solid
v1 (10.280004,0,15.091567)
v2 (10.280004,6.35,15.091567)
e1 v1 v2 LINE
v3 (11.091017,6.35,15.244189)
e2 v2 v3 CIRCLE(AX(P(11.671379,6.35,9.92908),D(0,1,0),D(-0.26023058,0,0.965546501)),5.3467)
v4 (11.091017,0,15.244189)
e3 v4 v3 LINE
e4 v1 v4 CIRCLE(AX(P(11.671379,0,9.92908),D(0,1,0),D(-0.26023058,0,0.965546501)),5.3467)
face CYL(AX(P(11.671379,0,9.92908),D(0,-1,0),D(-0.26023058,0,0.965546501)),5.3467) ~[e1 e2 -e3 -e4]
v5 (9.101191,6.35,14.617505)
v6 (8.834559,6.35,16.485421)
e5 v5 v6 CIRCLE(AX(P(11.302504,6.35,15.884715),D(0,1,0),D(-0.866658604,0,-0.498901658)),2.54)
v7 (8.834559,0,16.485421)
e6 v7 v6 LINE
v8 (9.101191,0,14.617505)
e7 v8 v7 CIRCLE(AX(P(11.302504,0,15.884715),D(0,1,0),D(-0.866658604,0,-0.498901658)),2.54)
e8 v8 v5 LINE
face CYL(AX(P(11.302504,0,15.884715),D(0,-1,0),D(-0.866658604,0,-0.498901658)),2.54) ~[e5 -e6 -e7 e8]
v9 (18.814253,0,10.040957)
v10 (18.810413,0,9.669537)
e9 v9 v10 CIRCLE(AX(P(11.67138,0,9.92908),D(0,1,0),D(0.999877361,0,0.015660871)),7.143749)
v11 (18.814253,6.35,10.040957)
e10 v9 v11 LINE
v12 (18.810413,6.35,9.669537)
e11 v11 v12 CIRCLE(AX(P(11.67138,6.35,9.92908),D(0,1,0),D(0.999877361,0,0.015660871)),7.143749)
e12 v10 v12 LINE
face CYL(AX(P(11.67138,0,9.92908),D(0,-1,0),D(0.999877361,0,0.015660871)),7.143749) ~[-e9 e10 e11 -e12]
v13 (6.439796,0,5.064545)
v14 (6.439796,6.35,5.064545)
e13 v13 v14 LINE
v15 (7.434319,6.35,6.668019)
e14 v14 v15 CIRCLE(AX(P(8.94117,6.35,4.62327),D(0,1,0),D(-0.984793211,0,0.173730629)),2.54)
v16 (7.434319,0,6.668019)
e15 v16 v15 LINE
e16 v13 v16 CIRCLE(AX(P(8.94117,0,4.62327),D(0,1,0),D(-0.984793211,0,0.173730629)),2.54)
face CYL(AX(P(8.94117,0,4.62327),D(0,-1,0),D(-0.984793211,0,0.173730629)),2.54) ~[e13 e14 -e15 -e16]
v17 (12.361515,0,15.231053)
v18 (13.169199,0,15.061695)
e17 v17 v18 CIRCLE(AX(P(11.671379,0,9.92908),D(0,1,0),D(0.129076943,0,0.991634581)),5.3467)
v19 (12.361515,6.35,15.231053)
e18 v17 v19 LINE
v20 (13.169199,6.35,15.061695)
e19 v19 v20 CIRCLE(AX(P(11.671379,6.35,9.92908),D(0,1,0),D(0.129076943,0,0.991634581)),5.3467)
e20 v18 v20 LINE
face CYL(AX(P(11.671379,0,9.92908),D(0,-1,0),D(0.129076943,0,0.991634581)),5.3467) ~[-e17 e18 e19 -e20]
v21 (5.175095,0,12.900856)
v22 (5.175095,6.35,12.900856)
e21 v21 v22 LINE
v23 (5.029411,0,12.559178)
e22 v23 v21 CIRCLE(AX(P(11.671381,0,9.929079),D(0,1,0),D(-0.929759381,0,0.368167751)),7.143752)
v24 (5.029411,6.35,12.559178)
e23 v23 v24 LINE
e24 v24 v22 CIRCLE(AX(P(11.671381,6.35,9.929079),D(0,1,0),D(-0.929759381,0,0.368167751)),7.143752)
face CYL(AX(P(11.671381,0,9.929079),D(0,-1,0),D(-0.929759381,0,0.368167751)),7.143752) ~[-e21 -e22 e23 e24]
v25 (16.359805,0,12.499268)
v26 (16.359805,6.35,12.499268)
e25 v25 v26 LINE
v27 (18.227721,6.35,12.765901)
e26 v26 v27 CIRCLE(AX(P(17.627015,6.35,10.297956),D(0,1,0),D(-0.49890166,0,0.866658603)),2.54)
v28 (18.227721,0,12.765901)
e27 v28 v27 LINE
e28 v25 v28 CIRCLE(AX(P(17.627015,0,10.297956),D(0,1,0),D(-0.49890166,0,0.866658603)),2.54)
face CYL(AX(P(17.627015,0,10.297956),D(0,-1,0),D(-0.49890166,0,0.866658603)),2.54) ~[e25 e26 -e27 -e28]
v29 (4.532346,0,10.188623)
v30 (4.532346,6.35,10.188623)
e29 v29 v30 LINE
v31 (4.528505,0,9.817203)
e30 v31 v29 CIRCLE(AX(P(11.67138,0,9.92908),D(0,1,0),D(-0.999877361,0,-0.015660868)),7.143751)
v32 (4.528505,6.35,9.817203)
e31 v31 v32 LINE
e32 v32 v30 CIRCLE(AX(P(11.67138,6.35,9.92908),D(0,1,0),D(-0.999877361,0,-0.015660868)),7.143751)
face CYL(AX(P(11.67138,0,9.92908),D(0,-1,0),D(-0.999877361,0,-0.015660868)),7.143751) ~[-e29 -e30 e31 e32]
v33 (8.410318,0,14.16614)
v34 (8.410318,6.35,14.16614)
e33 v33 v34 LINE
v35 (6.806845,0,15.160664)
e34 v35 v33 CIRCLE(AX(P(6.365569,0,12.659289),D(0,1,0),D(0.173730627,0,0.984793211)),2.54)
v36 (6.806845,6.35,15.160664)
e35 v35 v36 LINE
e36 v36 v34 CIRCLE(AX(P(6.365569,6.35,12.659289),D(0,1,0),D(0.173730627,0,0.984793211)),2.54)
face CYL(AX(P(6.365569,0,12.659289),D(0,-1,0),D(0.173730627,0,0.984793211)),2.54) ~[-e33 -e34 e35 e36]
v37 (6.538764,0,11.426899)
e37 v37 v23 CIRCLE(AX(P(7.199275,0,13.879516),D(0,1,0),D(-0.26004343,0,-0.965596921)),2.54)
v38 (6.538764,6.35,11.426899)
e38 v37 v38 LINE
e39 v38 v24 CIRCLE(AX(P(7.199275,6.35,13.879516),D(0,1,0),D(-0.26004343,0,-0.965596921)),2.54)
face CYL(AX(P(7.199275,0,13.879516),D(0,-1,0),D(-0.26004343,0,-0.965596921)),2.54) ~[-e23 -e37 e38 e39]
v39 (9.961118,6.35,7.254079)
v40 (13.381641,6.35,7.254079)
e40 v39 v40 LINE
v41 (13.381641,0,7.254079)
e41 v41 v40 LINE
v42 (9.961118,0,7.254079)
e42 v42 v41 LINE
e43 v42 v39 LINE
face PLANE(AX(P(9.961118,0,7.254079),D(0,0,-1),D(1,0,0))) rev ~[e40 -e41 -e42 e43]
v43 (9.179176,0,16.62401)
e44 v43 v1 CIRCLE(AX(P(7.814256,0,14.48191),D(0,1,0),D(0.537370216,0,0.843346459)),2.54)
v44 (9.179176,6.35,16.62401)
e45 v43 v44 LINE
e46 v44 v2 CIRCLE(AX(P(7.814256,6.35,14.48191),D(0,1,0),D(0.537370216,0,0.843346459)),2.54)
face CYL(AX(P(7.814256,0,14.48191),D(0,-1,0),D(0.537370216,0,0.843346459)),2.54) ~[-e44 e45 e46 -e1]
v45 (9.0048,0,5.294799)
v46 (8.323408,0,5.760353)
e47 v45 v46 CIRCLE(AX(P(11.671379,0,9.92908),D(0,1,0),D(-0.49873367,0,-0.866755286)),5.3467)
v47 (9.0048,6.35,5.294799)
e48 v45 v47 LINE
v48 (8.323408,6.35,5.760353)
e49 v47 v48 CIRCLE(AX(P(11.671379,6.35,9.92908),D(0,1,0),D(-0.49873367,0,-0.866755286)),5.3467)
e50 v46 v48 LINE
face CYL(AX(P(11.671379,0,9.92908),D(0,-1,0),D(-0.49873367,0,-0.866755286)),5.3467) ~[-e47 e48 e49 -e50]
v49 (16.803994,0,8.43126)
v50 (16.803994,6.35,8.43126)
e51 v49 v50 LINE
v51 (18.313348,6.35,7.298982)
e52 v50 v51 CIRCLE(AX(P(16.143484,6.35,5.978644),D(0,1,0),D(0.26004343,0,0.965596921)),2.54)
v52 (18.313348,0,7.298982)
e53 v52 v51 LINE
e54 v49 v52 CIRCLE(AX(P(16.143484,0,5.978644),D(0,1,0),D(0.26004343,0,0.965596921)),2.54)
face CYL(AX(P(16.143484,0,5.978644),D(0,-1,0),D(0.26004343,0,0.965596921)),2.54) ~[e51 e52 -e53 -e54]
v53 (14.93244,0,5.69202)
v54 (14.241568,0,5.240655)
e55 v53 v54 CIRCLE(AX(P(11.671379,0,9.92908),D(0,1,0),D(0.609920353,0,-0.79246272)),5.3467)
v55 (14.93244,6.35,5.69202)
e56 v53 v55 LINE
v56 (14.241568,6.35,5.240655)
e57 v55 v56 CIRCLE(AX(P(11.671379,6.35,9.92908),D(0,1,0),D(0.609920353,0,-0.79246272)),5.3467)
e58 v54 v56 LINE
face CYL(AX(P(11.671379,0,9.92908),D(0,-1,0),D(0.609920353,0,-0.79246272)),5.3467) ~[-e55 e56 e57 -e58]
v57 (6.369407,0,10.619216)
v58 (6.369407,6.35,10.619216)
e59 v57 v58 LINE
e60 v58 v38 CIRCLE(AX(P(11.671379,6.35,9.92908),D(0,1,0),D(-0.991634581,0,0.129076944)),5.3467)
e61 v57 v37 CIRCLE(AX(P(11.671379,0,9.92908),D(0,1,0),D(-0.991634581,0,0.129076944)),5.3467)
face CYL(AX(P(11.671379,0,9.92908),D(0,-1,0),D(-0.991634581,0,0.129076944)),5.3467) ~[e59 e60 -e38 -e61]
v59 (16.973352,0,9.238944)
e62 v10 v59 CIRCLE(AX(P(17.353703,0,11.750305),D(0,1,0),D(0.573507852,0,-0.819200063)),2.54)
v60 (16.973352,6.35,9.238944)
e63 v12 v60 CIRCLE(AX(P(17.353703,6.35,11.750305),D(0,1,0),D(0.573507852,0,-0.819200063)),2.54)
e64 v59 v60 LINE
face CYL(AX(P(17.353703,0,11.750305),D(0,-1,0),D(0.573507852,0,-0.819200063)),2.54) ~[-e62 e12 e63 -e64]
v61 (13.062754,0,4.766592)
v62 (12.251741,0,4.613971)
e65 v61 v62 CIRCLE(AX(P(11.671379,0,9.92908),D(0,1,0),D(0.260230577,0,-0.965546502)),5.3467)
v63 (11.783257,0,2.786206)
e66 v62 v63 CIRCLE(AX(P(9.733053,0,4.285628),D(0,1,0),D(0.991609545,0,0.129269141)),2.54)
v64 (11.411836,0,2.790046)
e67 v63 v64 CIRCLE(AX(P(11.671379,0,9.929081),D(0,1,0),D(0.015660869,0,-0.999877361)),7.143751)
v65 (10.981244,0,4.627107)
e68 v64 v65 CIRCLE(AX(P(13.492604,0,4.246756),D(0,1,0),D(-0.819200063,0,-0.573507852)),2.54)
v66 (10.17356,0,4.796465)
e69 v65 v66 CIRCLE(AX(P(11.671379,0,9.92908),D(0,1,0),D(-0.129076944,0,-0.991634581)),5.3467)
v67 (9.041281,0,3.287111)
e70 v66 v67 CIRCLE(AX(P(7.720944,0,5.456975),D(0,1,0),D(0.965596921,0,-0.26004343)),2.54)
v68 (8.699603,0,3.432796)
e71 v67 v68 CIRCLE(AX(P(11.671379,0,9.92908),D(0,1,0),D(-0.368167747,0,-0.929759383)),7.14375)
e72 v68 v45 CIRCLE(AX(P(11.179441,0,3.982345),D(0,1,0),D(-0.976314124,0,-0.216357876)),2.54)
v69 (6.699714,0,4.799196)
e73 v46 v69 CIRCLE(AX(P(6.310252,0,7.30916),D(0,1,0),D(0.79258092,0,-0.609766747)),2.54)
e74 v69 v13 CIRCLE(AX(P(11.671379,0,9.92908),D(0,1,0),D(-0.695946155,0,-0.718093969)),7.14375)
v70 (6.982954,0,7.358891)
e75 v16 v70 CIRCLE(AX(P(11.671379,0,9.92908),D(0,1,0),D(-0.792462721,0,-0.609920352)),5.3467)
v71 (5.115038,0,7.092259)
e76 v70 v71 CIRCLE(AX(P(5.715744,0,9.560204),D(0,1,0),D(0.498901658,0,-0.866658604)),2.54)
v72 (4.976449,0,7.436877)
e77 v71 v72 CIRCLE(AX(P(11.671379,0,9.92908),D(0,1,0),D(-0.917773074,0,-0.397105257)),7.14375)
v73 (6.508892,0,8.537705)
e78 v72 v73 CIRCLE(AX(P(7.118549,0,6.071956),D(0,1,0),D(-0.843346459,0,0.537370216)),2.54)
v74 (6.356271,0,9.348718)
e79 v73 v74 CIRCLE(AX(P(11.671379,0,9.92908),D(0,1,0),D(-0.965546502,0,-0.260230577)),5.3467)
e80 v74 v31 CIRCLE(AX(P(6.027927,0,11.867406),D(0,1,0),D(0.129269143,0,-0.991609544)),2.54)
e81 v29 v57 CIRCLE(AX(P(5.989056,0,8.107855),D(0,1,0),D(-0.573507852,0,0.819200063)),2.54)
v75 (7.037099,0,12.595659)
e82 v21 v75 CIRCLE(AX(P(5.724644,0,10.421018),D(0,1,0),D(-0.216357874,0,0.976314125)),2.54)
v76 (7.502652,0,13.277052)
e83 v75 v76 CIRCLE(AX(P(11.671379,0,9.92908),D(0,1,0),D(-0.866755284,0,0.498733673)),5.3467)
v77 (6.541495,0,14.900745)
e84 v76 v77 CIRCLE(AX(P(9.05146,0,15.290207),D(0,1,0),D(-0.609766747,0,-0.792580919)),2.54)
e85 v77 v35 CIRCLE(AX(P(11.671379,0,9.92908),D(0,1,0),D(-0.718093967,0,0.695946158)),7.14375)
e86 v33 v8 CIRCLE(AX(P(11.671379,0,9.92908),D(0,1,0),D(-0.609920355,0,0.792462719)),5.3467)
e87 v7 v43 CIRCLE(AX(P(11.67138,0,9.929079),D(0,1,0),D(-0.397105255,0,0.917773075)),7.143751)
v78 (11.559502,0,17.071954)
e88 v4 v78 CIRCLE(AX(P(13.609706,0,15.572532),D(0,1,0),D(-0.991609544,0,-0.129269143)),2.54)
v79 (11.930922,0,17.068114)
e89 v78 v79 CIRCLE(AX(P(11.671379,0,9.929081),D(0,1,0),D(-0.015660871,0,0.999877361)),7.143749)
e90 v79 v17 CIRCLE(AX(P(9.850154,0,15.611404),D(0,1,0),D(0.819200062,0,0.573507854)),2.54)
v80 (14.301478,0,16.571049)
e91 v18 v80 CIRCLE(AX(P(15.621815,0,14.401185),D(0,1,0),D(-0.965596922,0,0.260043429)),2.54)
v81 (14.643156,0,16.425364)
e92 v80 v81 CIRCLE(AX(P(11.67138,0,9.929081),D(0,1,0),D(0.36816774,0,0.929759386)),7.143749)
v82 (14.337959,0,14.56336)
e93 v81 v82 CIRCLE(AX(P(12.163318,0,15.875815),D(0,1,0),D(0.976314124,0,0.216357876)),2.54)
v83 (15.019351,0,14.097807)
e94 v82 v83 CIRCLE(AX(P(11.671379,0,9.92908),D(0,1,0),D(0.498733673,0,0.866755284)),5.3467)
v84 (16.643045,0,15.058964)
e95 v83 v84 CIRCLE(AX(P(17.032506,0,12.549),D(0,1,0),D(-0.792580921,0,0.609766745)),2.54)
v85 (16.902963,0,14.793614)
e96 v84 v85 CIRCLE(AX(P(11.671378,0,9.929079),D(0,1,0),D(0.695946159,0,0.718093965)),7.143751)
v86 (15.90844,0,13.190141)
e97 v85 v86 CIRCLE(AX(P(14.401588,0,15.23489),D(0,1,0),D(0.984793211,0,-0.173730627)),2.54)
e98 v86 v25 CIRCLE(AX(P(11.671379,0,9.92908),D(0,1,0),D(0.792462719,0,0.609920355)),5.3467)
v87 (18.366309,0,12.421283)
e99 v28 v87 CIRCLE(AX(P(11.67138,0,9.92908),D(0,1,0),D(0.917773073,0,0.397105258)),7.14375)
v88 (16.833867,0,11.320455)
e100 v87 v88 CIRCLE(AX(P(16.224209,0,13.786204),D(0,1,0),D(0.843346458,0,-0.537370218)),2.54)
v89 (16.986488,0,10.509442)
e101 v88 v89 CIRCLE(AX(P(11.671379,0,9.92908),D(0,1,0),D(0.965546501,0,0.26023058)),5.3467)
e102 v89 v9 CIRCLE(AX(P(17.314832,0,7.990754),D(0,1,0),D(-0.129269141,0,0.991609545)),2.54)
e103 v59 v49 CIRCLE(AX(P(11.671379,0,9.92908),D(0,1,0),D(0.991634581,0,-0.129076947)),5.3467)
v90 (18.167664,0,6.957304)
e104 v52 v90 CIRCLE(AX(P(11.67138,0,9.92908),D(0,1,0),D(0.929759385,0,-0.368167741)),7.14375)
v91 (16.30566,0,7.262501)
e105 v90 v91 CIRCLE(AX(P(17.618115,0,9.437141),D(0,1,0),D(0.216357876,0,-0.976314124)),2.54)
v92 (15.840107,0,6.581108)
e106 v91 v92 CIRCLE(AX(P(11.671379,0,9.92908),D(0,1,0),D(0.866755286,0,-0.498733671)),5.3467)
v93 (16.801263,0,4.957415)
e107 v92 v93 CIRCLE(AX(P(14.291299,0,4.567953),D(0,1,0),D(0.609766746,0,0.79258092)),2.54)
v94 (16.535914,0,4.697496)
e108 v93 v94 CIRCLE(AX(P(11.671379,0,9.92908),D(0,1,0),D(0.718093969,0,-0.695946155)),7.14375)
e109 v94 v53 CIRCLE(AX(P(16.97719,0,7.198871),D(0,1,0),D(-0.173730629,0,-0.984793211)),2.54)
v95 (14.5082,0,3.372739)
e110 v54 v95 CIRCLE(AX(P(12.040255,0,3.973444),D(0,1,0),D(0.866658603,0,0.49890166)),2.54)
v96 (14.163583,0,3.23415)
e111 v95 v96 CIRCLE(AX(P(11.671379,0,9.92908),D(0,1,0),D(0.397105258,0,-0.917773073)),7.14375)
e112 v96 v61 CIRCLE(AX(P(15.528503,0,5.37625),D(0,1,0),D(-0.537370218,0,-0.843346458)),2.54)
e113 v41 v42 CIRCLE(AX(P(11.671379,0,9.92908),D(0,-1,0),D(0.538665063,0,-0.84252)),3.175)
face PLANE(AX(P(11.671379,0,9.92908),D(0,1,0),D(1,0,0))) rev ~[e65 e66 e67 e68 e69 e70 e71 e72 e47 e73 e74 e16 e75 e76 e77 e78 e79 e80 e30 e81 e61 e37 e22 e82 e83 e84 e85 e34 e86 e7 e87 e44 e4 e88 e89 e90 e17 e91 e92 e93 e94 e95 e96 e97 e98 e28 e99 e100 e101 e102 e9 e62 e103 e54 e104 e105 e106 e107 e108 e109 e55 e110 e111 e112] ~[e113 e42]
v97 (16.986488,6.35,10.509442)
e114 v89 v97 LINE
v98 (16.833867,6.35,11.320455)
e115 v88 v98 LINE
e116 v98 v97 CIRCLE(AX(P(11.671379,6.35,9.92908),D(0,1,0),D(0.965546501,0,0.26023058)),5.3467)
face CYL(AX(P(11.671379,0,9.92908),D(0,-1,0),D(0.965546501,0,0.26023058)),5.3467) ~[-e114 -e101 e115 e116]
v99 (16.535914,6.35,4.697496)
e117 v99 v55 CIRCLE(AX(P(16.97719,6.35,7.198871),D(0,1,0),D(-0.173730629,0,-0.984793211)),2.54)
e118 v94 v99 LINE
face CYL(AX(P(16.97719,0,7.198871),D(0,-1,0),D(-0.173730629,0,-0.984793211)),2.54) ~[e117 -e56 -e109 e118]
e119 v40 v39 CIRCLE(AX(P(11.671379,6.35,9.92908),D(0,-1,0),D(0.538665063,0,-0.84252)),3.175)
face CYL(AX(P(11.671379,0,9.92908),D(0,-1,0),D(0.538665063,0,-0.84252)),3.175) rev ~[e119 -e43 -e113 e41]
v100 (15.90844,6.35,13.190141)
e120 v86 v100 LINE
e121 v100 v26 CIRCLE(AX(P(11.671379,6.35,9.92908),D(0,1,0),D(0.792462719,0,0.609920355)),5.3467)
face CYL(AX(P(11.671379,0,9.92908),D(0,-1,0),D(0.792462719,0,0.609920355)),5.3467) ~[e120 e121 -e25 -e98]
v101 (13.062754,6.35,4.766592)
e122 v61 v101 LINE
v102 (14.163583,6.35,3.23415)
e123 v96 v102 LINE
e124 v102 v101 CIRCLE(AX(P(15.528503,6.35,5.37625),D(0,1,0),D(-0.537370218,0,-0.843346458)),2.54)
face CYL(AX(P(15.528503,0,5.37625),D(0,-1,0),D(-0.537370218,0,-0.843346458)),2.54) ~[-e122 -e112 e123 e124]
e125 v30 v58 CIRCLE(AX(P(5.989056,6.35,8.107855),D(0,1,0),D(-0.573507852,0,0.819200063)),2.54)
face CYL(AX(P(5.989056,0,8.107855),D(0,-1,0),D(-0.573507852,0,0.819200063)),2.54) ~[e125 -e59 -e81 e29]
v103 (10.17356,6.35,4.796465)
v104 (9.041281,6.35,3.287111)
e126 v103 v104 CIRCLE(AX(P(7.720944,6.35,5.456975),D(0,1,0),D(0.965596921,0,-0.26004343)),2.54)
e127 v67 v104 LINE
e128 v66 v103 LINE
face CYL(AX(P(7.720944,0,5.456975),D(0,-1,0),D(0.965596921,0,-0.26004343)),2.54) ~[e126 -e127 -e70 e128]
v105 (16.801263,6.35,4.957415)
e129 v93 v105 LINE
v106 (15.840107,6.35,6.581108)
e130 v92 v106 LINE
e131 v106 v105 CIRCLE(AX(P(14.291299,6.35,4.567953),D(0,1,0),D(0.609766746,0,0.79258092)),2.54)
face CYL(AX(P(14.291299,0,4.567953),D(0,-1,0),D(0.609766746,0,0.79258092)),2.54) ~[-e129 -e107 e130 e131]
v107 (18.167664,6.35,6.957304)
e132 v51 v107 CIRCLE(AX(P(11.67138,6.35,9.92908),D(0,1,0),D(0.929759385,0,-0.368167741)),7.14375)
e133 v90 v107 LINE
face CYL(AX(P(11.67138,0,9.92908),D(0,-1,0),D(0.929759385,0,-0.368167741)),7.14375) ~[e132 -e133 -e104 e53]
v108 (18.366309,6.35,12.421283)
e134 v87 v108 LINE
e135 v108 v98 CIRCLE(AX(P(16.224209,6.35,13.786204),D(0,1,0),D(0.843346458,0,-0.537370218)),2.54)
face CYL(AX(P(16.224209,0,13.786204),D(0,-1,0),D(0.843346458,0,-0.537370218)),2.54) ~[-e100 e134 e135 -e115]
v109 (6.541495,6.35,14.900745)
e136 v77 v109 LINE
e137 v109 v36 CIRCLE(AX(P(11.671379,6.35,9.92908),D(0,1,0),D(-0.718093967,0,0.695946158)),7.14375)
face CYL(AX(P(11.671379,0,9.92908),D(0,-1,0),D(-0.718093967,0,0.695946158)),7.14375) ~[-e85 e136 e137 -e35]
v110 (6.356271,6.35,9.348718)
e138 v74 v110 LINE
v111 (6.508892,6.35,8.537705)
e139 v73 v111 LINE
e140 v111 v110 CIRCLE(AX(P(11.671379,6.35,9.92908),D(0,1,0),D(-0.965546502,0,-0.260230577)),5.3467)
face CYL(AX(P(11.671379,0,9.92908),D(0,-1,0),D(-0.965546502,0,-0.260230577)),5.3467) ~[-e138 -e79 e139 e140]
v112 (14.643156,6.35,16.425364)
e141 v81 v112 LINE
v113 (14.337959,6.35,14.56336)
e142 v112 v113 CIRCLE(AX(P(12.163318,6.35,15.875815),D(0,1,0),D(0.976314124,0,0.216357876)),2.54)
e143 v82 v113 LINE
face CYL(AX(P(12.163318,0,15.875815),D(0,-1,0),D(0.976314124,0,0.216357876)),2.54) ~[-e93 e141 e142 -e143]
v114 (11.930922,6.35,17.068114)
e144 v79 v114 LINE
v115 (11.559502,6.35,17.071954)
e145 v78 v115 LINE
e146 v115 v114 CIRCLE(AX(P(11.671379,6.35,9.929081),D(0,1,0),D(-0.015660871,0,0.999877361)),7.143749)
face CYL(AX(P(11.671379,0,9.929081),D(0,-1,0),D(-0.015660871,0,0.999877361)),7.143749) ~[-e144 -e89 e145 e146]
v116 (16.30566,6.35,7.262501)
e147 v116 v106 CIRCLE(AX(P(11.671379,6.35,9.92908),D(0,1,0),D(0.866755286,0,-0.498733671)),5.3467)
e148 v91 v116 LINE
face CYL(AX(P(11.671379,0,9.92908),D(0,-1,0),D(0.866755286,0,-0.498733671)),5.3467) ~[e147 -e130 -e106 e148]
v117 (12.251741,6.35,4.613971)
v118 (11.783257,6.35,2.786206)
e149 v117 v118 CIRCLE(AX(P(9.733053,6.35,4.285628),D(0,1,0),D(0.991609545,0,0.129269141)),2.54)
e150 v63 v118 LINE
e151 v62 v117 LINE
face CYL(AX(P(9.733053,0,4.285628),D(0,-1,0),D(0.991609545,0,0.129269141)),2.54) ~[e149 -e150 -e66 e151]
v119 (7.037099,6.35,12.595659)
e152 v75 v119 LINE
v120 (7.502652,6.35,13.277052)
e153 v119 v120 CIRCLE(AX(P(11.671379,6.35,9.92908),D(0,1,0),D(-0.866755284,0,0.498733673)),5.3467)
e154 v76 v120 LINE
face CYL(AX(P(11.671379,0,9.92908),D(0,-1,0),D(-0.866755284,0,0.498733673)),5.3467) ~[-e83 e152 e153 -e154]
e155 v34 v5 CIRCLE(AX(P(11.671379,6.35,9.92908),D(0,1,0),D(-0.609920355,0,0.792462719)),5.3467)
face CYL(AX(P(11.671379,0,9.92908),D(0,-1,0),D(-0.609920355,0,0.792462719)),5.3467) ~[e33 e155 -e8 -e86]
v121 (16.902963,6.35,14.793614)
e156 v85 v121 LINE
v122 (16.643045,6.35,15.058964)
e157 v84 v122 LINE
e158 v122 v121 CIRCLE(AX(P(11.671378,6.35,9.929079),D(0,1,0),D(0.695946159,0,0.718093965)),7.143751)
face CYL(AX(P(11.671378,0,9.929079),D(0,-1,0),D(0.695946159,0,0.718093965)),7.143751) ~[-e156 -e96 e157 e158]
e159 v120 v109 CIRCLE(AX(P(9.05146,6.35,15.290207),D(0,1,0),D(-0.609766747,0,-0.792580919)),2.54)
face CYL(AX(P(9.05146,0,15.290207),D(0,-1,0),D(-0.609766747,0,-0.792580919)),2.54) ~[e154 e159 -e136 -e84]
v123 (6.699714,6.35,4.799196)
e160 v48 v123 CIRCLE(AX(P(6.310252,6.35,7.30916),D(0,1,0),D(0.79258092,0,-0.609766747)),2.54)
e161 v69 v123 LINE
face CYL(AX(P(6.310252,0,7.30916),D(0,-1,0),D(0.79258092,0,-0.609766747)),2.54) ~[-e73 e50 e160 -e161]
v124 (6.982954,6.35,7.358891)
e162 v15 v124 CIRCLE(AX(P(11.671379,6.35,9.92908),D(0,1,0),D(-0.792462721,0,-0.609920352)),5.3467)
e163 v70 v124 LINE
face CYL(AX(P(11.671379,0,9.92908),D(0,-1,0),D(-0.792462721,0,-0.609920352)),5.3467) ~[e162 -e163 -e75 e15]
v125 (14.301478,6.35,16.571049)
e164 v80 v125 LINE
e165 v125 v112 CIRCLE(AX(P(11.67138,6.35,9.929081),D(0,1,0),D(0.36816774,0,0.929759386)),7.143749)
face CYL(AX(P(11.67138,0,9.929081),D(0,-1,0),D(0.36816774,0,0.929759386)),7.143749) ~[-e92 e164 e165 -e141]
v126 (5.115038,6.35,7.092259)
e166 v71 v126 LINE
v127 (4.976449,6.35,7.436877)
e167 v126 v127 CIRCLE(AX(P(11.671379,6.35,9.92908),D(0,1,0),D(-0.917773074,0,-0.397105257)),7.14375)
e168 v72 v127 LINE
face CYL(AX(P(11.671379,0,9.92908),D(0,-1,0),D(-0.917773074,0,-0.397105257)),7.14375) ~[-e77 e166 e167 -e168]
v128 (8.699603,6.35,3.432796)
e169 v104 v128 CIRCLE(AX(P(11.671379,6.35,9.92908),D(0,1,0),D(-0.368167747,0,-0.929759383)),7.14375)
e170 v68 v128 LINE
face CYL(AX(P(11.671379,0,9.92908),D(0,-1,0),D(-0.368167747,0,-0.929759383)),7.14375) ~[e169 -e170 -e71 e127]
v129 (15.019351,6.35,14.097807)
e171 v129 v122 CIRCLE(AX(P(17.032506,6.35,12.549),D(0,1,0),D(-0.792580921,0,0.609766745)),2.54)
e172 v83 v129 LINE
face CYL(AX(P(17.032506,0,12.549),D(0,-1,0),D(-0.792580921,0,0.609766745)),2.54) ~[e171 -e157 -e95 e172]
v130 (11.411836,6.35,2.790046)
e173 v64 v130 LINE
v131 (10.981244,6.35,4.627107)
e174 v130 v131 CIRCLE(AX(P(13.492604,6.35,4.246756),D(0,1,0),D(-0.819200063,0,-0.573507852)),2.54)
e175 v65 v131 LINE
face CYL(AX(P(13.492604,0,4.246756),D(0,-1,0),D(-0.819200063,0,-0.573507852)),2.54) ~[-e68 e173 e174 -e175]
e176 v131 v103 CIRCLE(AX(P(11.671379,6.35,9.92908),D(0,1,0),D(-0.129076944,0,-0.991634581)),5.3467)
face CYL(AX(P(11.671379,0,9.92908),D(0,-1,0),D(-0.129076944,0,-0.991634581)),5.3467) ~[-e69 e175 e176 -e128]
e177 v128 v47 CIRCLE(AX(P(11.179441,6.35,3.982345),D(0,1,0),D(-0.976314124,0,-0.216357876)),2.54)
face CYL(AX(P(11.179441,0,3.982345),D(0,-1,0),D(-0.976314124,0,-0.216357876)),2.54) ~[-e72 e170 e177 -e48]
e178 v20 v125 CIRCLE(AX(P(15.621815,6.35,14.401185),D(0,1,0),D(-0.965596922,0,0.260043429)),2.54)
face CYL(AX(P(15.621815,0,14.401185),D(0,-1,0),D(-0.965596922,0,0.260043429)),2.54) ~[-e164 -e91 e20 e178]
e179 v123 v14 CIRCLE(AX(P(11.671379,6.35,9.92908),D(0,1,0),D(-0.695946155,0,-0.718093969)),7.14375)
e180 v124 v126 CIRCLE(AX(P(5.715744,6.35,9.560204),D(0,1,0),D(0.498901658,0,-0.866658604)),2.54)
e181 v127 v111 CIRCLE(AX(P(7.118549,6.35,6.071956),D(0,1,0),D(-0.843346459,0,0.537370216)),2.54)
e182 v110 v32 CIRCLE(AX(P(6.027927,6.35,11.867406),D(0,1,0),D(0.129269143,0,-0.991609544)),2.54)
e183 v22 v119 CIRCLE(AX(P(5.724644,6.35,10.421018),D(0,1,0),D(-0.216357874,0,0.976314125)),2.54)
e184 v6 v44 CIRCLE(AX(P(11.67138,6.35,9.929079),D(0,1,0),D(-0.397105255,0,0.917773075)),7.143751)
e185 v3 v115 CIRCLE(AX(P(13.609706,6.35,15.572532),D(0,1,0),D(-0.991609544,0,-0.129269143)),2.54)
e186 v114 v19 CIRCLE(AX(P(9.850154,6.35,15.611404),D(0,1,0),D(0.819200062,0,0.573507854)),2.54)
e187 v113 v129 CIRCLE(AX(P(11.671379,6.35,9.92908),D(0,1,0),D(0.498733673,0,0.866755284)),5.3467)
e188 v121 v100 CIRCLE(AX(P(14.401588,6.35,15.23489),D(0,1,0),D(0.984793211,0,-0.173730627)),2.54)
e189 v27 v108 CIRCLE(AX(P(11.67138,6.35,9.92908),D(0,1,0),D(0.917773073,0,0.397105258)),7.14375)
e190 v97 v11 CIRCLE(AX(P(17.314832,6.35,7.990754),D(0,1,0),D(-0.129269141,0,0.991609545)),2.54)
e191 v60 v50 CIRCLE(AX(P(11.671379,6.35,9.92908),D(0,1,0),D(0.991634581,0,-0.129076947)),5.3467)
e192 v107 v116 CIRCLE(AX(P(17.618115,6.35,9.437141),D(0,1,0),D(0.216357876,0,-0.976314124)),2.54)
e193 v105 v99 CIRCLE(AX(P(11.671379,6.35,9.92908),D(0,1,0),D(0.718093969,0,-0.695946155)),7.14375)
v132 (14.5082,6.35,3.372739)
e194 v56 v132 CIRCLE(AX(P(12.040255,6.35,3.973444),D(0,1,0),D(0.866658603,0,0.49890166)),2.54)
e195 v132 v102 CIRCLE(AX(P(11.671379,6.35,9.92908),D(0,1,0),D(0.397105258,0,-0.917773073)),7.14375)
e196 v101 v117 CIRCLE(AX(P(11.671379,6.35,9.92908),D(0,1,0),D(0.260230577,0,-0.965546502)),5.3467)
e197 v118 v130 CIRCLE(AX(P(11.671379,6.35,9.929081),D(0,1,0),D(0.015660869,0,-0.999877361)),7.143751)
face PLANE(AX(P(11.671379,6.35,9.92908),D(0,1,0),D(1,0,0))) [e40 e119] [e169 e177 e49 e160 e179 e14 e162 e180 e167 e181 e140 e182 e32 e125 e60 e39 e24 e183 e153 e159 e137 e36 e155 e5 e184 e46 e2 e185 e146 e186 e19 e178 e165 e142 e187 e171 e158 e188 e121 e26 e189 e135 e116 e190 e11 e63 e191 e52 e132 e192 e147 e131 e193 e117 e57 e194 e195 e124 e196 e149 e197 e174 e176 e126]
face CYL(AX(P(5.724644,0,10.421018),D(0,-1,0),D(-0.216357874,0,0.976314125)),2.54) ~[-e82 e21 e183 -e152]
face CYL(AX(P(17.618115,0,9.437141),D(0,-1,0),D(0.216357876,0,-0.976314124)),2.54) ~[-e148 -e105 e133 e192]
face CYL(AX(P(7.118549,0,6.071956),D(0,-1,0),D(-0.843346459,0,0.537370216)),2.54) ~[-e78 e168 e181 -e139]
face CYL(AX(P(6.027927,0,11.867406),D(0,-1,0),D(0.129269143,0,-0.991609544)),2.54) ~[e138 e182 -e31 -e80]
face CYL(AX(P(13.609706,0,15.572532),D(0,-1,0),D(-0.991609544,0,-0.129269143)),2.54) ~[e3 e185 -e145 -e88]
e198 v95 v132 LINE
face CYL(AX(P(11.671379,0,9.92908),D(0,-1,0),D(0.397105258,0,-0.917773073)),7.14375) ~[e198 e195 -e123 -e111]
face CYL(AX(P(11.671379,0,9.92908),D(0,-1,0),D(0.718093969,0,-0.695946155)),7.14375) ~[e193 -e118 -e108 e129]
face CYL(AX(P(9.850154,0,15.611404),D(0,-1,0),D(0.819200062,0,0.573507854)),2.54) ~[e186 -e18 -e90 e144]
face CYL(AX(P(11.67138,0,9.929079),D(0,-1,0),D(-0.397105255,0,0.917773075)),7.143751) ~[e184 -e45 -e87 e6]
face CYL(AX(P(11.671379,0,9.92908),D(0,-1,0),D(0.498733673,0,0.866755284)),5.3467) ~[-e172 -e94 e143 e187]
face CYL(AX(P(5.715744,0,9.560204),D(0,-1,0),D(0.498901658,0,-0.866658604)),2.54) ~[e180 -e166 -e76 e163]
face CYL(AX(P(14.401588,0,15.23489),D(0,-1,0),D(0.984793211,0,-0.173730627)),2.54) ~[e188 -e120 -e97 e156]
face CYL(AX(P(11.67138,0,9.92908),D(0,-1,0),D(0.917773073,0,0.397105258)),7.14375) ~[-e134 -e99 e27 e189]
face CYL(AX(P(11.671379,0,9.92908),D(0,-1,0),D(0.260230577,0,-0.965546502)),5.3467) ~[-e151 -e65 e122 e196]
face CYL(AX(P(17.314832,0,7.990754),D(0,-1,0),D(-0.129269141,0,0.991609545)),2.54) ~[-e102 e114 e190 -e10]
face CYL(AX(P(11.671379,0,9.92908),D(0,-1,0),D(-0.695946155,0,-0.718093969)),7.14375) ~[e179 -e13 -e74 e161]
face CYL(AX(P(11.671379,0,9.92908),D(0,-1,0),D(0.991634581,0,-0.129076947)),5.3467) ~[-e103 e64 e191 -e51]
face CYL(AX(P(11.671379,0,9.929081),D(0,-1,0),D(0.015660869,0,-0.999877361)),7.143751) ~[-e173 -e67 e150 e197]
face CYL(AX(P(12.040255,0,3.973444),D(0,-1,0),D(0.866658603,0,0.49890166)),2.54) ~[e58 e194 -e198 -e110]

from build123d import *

# Parameters (mm, degrees)
BOSS_EXTRUDE1_DEPTH = 6.35


with BuildPart() as part:
    # Sketch1 → Boss-Extrude1 (new body)
    with BuildSketch(Plane(origin=(0, 0, 0), x_dir=(1, 0, 0), z_dir=(0, 1, 0))):
        with BuildLine():
            ThreePointArc((9.101190716, -14.617505223), (8.787991723, -15.525786229), (8.834558587, -16.485421328))
            ThreePointArc((8.834558587, -16.485421328), (9.005966344, -16.556955762), (9.179175886, -16.624009833))
            ThreePointArc((9.179175886, -16.624009833), (9.877166505, -15.963799948), (10.280004433, -15.09156741))
            ThreePointArc((10.280004433, -15.09156741), (10.682561911, -15.183548614), (11.091017353, -15.244188674))
            ThreePointArc((11.091017353, -15.244188674), (11.149243306, -16.203186971), (11.559501933, -17.07195383))
            ThreePointArc((11.559501933, -17.07195383), (11.745237093, -17.072448121), (11.930922326, -17.068113582))
            ThreePointArc((11.930922326, -17.068113582), (12.323130188, -16.191049737), (12.361514963, -15.231052547))
            ThreePointArc((12.361514963, -15.231052547), (12.768629261, -15.161980021), (13.16919883, -15.061695001))
            ThreePointArc((13.16919883, -15.061695001), (13.589985356, -15.925411791), (14.301477588, -16.571048531))
            ThreePointArc((14.301477588, -16.571048531), (14.473263658, -16.500427428), (14.643155688, -16.425364174))
            ThreePointArc((14.643155688, -16.425364174), (14.669870701, -15.464971388), (14.33795859, -14.563360415))
            ThreePointArc((14.33795859, -14.563360415), (14.687650245, -14.343749825), (15.019350856, -14.09780721))
            ThreePointArc((15.019350856, -14.09780721), (15.738637021, -14.734749443), (16.643044616, -15.058963723))
            ThreePointArc((16.643044616, -15.058963723), (16.774728723, -14.927978648), (16.902963029, -14.793614379))
            ThreePointArc((16.902963029, -14.793614379), (16.560118075, -13.896103748), (15.908439687, -13.19014109))
            ThreePointArc((15.908439687, -13.19014109), (16.147471316, -12.853426158), (16.359804557, -12.499268481))
            ThreePointArc((16.359804557, -12.499268481), (17.268085563, -12.812467475), (18.227720662, -12.76590061))
            ThreePointArc((18.227720662, -12.76590061), (18.299255096, -12.594492854), (18.366309167, -12.421283311))
            ThreePointArc((18.366309167, -12.421283311), (17.706099281, -11.723292693), (16.833866744, -11.320454765))
            ThreePointArc((16.833866744, -11.320454765), (16.925847948, -10.917897287), (16.986488008, -10.509441845))
            ThreePointArc((16.986488008, -10.509441845), (17.945486305, -10.451215891), (18.814253164, -10.040957265))
            ThreePointArc((18.814253164, -10.040957265), (18.814747455, -9.855222104), (18.810412916, -9.669536871))
            ThreePointArc((18.810412916, -9.669536871), (17.93334907, -9.27732901), (16.973351881, -9.238944234))
            ThreePointArc((16.973351881, -9.238944234), (16.904279354, -8.831829937), (16.803994334, -8.431260368))
            ThreePointArc((16.803994334, -8.431260368), (17.667711125, -8.010473841), (18.313347865, -7.29898161))
            ThreePointArc((18.313347865, -7.29898161), (18.242726762, -7.12719554), (18.167663508, -6.957303509))
            ThreePointArc((18.167663508, -6.957303509), (17.207270722, -6.930588496), (16.305659749, -7.262500608))
            ThreePointArc((16.305659749, -7.262500608), (16.086049159, -6.912808952), (15.840106544, -6.581108342))
            ThreePointArc((15.840106544, -6.581108342), (16.477048777, -5.861822176), (16.801263057, -4.957414582))
            ThreePointArc((16.801263057, -4.957414582), (16.670277982, -4.825730474), (16.535913713, -4.697496168))
            ThreePointArc((16.535913713, -4.697496168), (15.638403082, -5.040341123), (14.932440424, -5.69201951))
            ThreePointArc((14.932440424, -5.69201951), (14.595725492, -5.452987882), (14.241567815, -5.240654641))
            ThreePointArc((14.241567815, -5.240654641), (14.554766809, -4.332373635), (14.508199944, -3.372738536))
            ThreePointArc((14.508199944, -3.372738536), (14.336792188, -3.301204102), (14.163582645, -3.234150031))
            ThreePointArc((14.163582645, -3.234150031), (13.465592027, -3.894359916), (13.062754098, -4.766592453))
            ThreePointArc((13.062754098, -4.766592453), (12.66019662, -4.67461125), (12.251741179, -4.61397119))
            ThreePointArc((12.251741179, -4.61397119), (12.193515225, -3.654972893), (11.783256599, -2.786206034))
            ThreePointArc((11.783256599, -2.786206034), (11.597521438, -2.785711743), (11.411836205, -2.790046281))
            ThreePointArc((11.411836205, -2.790046281), (11.019628344, -3.667110127), (10.981243568, -4.627107317))
            ThreePointArc((10.981243568, -4.627107317), (10.574129271, -4.696179843), (10.173559702, -4.796464863))
            ThreePointArc((10.173559702, -4.796464863), (9.752773175, -3.932748072), (9.041280943, -3.287111332))
            ThreePointArc((9.041280943, -3.287111332), (8.869494873, -3.357732436), (8.699602843, -3.43279569))
            ThreePointArc((8.699602843, -3.43279569), (8.67288783, -4.393188476), (9.004799941, -5.294799449))
            ThreePointArc((9.004799941, -5.294799449), (8.655108286, -5.514410038), (8.323407676, -5.760352653))
            ThreePointArc((8.323407676, -5.760352653), (7.60412151, -5.123410421), (6.699713916, -4.799196141))
            ThreePointArc((6.699713916, -4.799196141), (6.568029808, -4.930181216), (6.439795502, -5.064545485))
            ThreePointArc((6.439795502, -5.064545485), (6.782640457, -5.962056116), (7.434318844, -6.668018774))
            ThreePointArc((7.434318844, -6.668018774), (7.195287216, -7.004733706), (6.982953975, -7.358891382))
            ThreePointArc((6.982953975, -7.358891382), (6.074672968, -7.045692389), (5.11503787, -7.092259254))
            ThreePointArc((5.11503787, -7.092259254), (5.043503436, -7.26366701), (4.976449365, -7.436876552))
            ThreePointArc((4.976449365, -7.436876552), (5.63665925, -8.134867171), (6.508891787, -8.537705099))
            ThreePointArc((6.508891787, -8.537705099), (6.416910584, -8.940262577), (6.356270524, -9.348718019))
            ThreePointArc((6.356270524, -9.348718019), (5.397272226, -9.406943972), (4.528505368, -9.817202599))
            ThreePointArc((4.528505368, -9.817202599), (4.528011077, -10.002937759), (4.532345615, -10.188622993))
            ThreePointArc((4.532345615, -10.188622993), (5.409409461, -10.580830854), (6.369406651, -10.61921563))
            ThreePointArc((6.369406651, -10.61921563), (6.438479177, -11.026329927), (6.538764197, -11.426899496))
            ThreePointArc((6.538764197, -11.426899496), (5.675047406, -11.847686023), (5.029410666, -12.559178254))
            ThreePointArc((5.029410666, -12.559178254), (5.10003177, -12.730964324), (5.175095023, -12.900856355))
            ThreePointArc((5.175095023, -12.900856355), (6.13548781, -12.927571367), (7.037098782, -12.595659256))
            ThreePointArc((7.037098782, -12.595659256), (7.256709372, -12.945350911), (7.502651987, -13.277051522))
            ThreePointArc((7.502651987, -13.277051522), (6.865709755, -13.996337688), (6.541495474, -14.900745282))
            ThreePointArc((6.541495474, -14.900745282), (6.672480549, -15.032429389), (6.806844819, -15.160663695))
            ThreePointArc((6.806844819, -15.160663695), (7.70435545, -14.817818741), (8.410318108, -14.166140353))
            ThreePointArc((8.410318108, -14.166140353), (8.74703304, -14.405171982), (9.101190716, -14.617505223))
        make_face()
        with BuildLine():
            Line((9.961117692, -7.254078932), (13.381640839, -7.254078932))
            ThreePointArc((13.381640839, -7.254078932), (11.671379266, -13.104079932), (9.961117692, -7.254078932))
        make_face(mode=Mode.SUBTRACT)
    extrude(amount=BOSS_EXTRUDE1_DEPTH)


solid = part.part
